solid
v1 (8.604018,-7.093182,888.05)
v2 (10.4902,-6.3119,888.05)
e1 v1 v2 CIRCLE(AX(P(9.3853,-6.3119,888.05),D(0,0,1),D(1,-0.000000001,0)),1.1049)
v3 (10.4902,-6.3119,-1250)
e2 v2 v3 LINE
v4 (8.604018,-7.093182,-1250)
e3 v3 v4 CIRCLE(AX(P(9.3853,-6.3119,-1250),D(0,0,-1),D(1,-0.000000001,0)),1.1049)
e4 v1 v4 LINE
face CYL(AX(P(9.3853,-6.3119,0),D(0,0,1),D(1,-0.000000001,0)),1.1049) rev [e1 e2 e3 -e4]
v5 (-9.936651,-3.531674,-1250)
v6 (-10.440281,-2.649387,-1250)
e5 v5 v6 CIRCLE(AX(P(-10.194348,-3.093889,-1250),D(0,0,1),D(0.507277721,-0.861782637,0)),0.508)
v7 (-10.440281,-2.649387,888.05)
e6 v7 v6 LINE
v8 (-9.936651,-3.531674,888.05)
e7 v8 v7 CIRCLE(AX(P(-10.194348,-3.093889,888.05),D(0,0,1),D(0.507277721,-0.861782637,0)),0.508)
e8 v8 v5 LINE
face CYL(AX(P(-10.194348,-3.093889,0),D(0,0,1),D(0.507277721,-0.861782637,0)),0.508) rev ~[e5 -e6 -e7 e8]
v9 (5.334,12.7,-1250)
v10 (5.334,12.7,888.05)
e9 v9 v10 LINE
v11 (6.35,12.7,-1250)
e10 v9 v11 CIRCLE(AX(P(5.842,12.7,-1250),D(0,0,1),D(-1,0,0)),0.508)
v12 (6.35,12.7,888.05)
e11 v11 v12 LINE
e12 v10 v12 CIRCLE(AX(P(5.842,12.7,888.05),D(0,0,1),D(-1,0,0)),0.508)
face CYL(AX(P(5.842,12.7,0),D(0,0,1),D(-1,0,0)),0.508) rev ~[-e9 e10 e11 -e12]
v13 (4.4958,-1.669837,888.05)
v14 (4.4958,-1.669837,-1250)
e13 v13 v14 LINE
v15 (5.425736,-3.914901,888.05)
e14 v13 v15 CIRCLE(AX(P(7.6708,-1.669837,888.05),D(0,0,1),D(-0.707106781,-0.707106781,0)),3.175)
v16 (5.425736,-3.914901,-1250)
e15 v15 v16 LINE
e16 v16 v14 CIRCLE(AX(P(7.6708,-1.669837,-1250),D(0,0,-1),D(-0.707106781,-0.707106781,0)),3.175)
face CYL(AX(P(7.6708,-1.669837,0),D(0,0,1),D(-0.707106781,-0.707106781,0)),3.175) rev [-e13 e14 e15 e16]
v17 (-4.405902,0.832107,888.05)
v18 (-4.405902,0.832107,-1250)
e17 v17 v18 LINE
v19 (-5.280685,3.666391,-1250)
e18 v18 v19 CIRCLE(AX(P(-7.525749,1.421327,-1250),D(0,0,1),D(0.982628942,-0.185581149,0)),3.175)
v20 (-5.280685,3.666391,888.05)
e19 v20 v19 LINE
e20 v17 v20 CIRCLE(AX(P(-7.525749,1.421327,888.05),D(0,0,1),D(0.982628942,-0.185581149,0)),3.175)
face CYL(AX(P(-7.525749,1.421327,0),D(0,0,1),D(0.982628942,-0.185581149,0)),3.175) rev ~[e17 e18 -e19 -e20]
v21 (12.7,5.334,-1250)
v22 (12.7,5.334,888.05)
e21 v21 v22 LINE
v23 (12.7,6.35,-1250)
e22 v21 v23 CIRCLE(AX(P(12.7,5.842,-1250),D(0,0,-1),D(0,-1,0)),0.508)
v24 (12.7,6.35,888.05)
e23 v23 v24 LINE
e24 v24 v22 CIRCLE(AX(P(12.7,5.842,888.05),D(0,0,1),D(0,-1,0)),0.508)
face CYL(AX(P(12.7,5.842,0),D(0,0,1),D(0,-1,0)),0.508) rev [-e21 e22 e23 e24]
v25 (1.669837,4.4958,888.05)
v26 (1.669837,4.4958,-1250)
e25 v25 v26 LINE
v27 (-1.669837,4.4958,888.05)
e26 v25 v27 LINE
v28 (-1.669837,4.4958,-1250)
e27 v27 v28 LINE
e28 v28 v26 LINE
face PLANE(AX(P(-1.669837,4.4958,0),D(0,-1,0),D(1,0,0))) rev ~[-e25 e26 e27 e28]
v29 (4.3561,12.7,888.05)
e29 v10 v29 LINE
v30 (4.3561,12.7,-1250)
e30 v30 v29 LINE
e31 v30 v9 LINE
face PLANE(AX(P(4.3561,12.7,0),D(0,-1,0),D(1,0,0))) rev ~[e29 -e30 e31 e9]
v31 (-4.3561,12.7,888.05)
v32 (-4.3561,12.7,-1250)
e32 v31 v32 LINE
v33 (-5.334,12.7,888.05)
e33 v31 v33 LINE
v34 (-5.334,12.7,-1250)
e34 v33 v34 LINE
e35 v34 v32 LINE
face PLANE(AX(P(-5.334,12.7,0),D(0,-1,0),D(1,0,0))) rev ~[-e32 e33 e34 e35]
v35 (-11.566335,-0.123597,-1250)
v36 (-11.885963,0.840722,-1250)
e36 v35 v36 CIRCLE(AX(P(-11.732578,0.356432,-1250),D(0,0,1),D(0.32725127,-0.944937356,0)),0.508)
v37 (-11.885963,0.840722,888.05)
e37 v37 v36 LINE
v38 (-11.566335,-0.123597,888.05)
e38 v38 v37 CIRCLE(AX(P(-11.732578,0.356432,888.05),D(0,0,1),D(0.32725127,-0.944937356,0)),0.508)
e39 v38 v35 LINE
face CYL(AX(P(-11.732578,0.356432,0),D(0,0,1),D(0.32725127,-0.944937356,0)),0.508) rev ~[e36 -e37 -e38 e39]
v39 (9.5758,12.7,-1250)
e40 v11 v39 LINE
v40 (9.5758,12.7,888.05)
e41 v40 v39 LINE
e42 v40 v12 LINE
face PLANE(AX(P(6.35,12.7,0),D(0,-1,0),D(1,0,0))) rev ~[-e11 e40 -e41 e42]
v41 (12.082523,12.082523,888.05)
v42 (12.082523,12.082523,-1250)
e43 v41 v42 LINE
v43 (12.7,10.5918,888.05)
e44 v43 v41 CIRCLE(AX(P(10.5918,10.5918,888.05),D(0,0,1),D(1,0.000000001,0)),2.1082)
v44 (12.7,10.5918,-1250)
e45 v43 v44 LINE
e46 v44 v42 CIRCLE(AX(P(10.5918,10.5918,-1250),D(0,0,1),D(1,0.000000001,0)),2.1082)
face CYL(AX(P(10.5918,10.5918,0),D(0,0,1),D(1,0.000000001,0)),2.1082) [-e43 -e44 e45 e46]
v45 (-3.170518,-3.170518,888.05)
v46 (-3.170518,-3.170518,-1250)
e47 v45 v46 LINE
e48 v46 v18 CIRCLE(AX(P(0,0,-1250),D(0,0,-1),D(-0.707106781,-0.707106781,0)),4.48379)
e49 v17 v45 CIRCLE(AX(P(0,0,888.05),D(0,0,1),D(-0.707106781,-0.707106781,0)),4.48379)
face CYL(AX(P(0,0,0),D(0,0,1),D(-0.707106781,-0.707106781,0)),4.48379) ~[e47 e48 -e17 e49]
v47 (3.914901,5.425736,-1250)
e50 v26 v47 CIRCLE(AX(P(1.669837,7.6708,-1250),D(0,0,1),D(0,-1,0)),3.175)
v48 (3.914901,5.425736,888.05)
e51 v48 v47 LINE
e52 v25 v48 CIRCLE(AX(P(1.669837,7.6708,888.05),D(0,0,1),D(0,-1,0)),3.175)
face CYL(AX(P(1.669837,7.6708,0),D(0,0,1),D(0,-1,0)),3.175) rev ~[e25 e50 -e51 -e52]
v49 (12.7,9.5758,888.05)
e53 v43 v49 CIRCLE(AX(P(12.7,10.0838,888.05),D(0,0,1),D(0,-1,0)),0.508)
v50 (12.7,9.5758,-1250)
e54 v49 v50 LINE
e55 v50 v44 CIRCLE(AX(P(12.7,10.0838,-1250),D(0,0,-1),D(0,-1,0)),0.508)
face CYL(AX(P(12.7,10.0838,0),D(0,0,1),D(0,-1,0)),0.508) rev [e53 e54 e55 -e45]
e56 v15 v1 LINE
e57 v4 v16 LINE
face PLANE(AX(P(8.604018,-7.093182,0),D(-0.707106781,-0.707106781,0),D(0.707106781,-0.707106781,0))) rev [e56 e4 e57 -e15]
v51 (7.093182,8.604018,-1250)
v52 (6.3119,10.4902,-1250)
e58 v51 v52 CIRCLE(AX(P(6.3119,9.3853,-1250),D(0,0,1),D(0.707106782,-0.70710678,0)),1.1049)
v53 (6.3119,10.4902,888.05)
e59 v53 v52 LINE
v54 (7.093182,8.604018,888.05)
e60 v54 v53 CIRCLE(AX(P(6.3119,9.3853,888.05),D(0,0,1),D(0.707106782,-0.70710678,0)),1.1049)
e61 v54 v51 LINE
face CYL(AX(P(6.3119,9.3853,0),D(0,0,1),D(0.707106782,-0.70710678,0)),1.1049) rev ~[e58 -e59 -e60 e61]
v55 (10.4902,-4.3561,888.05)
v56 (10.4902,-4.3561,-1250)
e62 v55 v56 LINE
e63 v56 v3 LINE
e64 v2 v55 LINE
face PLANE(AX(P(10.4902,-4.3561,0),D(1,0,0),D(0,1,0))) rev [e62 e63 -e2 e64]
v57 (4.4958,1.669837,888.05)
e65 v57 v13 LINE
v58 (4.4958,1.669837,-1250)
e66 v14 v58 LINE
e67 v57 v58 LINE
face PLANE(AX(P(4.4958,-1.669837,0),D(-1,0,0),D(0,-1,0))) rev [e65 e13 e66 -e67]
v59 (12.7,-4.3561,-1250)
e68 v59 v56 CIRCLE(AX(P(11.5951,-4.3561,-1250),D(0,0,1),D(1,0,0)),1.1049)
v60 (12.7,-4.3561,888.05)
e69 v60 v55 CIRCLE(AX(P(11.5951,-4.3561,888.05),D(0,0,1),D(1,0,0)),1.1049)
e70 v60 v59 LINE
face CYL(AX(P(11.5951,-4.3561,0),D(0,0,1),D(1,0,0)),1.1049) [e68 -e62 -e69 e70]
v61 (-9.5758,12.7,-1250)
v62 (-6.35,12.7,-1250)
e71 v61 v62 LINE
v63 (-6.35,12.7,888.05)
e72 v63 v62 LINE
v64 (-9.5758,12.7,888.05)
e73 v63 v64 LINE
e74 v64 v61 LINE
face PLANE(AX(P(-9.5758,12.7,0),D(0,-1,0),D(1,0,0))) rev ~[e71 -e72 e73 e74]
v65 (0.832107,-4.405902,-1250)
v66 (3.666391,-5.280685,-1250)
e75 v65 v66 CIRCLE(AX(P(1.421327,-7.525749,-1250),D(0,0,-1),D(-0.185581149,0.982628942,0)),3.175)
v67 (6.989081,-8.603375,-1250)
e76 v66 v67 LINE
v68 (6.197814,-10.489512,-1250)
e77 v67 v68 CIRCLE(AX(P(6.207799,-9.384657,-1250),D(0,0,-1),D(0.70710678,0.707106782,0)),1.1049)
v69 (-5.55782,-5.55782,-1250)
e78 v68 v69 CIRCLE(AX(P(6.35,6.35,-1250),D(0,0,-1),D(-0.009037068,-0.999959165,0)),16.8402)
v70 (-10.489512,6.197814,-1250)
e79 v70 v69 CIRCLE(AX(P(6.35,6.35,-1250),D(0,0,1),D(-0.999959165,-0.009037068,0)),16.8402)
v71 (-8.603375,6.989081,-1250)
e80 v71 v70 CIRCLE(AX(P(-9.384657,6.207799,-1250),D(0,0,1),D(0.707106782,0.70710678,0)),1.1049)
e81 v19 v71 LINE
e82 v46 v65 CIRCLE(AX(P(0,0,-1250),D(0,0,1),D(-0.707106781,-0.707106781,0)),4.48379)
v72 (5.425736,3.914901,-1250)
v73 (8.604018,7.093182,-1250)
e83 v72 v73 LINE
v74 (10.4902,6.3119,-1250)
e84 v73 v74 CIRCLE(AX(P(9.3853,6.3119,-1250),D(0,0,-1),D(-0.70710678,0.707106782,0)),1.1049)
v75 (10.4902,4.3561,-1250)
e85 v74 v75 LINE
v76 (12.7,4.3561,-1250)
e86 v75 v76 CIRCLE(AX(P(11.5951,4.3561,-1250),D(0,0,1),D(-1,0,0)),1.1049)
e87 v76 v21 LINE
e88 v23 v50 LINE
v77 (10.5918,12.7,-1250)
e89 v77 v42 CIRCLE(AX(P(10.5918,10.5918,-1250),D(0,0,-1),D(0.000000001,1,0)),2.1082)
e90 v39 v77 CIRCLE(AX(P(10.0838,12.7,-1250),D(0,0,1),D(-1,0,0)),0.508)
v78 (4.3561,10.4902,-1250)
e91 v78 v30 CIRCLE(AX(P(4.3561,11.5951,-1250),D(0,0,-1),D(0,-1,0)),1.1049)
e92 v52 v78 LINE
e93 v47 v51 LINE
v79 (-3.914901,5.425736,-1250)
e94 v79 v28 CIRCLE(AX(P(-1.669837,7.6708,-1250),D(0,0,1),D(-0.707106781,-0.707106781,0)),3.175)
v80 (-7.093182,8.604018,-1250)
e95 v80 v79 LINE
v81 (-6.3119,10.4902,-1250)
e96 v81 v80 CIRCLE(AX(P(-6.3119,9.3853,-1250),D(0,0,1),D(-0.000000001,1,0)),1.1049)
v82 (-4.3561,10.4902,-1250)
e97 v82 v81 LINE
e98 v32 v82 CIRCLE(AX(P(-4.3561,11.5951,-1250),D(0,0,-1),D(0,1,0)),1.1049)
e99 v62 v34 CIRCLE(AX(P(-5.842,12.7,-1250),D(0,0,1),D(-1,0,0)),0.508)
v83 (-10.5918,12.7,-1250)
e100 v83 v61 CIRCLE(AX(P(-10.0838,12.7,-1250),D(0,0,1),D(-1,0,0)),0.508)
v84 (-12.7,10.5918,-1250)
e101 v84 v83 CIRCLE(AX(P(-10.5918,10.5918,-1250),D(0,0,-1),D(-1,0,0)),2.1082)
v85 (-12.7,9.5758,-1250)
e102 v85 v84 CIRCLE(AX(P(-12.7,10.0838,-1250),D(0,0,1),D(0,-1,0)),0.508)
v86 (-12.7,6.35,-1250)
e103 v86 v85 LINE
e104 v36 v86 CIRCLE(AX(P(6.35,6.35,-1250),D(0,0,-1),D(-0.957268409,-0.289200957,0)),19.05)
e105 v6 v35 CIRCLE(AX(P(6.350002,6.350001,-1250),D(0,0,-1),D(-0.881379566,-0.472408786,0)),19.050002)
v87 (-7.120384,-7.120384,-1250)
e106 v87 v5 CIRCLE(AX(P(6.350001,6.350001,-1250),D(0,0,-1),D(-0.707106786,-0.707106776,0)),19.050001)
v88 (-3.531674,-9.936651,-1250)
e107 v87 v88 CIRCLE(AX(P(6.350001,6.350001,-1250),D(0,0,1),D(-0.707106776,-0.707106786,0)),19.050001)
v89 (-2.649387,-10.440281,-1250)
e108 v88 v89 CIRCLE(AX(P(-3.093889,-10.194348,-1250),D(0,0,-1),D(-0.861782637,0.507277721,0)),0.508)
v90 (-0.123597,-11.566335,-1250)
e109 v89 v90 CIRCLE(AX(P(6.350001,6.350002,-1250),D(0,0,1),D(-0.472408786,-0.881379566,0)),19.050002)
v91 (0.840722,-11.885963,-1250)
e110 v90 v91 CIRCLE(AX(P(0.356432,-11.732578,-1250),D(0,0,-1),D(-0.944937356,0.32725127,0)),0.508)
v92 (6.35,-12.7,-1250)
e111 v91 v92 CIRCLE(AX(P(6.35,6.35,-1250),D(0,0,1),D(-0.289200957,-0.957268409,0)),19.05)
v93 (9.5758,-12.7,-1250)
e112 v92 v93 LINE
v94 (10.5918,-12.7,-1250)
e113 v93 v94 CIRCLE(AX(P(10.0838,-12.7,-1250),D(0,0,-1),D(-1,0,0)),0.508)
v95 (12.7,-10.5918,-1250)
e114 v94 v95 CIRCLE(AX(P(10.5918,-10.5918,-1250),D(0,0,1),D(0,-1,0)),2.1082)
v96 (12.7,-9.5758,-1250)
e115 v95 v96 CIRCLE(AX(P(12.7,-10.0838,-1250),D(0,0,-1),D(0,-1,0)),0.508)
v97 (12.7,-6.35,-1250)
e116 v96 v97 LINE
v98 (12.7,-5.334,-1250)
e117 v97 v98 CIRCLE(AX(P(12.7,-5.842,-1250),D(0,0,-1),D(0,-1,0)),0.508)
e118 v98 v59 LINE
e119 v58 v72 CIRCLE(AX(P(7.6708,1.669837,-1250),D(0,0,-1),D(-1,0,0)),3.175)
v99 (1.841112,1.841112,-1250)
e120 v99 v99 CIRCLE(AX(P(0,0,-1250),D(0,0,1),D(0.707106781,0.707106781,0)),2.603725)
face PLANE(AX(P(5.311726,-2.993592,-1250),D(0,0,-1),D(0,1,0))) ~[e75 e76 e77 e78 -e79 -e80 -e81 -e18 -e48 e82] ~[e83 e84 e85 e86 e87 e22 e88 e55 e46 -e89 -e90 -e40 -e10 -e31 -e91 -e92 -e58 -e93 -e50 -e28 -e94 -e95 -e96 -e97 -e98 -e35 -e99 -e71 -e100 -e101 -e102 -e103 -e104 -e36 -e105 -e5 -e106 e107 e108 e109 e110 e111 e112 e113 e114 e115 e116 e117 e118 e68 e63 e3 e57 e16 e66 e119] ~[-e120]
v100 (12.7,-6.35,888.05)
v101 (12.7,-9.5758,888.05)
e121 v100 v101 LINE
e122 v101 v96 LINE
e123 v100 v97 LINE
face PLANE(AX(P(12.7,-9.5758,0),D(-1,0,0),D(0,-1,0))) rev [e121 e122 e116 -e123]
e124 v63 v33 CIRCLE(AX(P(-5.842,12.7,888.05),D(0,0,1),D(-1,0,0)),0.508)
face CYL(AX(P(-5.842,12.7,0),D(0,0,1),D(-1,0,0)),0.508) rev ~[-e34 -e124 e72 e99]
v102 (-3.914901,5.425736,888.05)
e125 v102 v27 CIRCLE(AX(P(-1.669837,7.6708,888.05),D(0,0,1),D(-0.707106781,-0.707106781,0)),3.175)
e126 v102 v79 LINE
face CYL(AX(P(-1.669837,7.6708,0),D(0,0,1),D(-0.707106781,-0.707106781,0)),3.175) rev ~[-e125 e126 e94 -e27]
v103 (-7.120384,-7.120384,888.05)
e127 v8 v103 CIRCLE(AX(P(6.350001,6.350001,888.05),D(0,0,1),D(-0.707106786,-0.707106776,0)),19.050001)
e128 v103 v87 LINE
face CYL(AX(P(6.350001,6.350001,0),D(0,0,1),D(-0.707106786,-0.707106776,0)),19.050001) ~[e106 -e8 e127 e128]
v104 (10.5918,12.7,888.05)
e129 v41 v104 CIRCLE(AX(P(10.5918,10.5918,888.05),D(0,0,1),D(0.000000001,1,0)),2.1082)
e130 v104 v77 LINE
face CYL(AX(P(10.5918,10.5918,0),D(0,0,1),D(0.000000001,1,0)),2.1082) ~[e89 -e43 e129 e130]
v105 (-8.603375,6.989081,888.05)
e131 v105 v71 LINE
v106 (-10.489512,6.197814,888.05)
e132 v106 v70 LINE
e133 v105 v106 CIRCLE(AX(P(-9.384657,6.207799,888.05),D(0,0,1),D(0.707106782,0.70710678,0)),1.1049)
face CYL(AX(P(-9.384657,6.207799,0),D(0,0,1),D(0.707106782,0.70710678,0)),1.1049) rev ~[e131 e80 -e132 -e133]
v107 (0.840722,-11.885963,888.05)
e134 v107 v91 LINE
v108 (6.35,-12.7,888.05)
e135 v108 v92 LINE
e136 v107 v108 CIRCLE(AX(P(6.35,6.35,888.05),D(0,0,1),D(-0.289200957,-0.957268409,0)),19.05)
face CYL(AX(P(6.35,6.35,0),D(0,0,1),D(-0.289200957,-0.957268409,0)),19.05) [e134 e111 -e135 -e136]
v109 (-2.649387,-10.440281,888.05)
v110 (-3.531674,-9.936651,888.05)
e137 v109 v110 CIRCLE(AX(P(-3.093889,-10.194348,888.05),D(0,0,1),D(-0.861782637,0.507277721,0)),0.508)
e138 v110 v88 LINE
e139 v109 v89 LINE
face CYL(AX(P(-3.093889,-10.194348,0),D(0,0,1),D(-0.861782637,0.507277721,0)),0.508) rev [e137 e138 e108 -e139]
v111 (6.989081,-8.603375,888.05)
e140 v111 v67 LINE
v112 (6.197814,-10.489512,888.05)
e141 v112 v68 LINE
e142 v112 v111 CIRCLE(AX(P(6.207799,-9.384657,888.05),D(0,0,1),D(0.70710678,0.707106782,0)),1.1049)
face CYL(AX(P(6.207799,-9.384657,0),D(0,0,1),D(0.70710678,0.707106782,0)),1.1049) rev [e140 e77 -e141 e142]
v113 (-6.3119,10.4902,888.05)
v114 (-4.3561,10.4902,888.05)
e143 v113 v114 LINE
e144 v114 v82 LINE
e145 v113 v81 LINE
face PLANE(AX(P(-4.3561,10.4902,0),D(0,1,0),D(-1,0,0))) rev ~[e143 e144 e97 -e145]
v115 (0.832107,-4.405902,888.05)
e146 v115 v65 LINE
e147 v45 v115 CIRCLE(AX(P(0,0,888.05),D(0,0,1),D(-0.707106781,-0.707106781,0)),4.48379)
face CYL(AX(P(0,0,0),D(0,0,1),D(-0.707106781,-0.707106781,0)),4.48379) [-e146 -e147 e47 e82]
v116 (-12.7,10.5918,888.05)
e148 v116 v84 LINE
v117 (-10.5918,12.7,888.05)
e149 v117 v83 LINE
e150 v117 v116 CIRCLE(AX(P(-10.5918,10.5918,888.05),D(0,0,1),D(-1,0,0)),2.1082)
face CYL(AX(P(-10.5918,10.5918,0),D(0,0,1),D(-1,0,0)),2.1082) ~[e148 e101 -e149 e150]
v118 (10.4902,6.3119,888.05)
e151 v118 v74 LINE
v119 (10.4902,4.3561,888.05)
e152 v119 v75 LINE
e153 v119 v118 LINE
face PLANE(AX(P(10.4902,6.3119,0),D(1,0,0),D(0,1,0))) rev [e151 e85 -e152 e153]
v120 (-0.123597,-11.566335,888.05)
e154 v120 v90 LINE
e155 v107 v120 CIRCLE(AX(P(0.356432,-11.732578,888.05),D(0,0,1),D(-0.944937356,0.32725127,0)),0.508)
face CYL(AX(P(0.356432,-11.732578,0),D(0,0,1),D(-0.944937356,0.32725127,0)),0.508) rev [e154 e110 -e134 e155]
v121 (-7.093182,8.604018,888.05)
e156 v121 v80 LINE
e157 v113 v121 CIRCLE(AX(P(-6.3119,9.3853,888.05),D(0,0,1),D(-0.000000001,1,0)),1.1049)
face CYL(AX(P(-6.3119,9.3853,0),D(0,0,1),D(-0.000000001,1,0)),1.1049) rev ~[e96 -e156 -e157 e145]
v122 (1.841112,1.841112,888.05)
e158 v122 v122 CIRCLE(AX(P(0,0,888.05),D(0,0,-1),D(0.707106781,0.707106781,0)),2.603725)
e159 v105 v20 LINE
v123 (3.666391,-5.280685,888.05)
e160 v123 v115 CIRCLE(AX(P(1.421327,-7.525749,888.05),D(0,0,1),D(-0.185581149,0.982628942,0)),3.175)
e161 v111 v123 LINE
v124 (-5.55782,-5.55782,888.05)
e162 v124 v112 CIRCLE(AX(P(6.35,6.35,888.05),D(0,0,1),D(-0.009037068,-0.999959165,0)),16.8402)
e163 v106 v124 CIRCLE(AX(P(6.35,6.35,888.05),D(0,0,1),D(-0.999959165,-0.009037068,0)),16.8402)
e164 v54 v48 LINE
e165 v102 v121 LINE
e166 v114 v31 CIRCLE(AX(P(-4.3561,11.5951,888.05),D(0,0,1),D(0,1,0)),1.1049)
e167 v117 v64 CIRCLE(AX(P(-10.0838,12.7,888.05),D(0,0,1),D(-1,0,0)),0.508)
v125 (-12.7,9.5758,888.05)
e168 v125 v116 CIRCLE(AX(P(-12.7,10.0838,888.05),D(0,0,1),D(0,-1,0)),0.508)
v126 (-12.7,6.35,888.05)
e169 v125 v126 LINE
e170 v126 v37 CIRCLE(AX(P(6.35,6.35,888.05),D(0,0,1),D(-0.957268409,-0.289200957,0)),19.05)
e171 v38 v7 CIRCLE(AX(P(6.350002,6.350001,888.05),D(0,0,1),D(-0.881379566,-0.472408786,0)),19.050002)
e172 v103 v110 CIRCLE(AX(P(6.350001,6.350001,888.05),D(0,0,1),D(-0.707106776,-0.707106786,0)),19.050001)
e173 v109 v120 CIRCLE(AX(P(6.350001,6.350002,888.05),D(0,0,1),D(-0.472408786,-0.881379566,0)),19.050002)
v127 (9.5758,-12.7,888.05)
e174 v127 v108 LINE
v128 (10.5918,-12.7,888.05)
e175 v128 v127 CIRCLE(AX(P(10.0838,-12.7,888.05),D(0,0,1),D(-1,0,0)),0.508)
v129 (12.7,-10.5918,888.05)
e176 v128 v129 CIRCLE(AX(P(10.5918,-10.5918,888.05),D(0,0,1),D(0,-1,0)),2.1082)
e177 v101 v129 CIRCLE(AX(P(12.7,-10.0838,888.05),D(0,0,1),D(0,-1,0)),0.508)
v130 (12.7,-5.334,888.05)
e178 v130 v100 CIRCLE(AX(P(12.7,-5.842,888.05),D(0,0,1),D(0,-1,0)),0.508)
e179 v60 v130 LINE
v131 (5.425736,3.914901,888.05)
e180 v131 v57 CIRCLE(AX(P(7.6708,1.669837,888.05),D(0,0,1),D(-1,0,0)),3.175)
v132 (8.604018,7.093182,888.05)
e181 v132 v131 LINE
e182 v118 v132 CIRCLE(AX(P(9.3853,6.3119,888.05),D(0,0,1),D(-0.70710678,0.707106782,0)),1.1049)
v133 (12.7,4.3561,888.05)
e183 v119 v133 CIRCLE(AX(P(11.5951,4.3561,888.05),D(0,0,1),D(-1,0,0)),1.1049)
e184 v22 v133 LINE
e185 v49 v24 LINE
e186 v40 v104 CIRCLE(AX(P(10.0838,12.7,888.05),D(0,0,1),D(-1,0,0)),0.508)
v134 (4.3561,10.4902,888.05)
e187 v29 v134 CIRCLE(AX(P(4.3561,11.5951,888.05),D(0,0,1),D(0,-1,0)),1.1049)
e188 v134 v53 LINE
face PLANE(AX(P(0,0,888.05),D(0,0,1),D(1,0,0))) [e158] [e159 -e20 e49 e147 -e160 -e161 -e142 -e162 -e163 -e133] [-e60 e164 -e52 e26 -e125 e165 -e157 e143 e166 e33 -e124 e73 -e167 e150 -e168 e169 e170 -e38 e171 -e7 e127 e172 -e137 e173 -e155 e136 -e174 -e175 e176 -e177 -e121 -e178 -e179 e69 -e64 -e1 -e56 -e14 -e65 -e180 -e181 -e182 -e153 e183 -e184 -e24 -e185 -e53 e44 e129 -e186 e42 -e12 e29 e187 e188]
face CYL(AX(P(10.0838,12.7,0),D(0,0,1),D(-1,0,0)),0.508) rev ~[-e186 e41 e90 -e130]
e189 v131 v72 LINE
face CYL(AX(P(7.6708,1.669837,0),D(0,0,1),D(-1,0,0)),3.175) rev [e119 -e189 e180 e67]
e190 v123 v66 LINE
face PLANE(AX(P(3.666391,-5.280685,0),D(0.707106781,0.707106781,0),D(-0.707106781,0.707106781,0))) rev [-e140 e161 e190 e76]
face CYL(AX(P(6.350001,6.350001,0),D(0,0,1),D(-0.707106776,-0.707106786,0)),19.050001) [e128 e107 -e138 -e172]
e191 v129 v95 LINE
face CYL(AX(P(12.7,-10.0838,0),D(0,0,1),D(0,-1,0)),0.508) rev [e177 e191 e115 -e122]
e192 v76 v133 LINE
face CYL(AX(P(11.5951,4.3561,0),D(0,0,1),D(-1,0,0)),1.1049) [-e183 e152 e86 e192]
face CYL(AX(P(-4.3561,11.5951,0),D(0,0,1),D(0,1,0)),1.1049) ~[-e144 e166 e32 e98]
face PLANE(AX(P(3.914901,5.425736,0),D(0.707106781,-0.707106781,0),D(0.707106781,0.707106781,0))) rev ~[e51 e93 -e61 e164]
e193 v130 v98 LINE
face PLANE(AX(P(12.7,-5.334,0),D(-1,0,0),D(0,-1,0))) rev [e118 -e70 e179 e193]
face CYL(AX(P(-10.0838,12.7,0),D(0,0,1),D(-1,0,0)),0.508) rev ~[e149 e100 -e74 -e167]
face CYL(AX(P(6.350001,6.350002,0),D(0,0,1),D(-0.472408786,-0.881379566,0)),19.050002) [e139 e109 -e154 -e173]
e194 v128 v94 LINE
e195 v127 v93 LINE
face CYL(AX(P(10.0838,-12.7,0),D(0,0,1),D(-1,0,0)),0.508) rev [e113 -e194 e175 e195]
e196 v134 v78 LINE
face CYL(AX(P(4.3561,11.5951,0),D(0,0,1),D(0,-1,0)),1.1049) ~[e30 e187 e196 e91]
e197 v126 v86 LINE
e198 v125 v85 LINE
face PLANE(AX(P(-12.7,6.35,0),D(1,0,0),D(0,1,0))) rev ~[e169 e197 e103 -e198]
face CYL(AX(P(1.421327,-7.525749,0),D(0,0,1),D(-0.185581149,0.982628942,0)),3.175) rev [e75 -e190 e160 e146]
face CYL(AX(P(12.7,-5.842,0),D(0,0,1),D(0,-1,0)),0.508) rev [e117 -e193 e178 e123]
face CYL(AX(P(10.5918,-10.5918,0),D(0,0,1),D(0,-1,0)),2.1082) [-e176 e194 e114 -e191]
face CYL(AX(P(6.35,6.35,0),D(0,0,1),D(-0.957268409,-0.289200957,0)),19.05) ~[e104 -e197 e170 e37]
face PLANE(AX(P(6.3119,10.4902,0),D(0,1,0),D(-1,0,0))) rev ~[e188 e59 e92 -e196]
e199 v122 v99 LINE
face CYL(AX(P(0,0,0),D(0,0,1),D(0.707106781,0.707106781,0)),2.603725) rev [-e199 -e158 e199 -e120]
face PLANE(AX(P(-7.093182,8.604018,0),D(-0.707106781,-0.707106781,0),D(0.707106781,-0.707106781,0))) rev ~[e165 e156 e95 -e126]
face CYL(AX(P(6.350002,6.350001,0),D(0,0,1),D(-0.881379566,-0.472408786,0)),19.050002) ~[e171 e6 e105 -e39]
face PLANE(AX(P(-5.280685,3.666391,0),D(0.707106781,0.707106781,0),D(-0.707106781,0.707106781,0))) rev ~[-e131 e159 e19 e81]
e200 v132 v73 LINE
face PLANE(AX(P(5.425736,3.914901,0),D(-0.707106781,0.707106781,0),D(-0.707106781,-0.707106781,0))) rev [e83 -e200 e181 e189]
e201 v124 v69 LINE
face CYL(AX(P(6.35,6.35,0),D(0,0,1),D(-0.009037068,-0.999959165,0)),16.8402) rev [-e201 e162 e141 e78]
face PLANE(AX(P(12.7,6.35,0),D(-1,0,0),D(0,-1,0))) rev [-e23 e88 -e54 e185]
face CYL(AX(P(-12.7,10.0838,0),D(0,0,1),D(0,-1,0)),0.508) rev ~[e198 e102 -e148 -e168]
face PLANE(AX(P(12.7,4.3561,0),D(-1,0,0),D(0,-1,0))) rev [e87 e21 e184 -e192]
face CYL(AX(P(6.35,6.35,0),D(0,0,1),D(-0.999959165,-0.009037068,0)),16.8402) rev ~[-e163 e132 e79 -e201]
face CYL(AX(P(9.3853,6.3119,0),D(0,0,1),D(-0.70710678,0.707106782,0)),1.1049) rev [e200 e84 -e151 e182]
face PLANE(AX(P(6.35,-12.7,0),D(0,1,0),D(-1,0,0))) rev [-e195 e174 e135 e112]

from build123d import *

# Parameters (mm, degrees)
BOSS_EXTRUDE1_DEPTH = 1250
SKETCH4_R           = 22.750036828
CUT_EXTRUDE1_DEPTH  = 361.95


with BuildPart() as part:
    # Sketch3 → Boss-Extrude1 (new, symmetric)
    with BuildSketch(Plane.XY):
        with BuildLine():
            Line((6.350000091, 12.7), (9.5758, 12.7))
            ThreePointArc((9.5758, 12.7), (10.0838, 12.192), (10.5918, 12.7))
            ThreePointArc((10.5918, 12.7), (11.398573212, 12.53952283), (12.082522516, 12.082522516))
            Line((12.082522516, 12.082522516), (1.841111635, 1.841111635))
            ThreePointArc((1.841111635, 1.841111635), (-1.841111635, 1.841111635), (-1.841111635, -1.841111635))
            Line((-1.841111635, -1.841111635), (-3.170518398, -3.170518398))
            ThreePointArc((-3.170518398, -3.170518398), (-4.284365606, -1.322340795), (-4.405901938, 0.832106923))
            ThreePointArc((-4.405901938, 0.832106923), (-4.49196258, 2.357684911), (-5.280684798, 3.666391103))
            Line((-5.280684798, 3.666391103), (-8.603375093, 6.989081397))
            ThreePointArc((-8.603375093, 6.989081397), (-9.812092525, 7.226672612), (-10.489512256, 6.197814058))
            ThreePointArc((-10.489512256, 6.197814058), (-9.179037358, -0.164701156), (-5.55781952, -5.55781952))
            Line((-5.55781952, -5.55781952), (-7.120384159, -7.120384159))
            ThreePointArc((-7.120384159, -7.120384159), (-8.636327096, -5.410633429), (-9.936651338, -3.531674301))
            ThreePointArc((-9.936651338, -3.531674301), (-9.753165795, -2.842051688), (-10.440280632, -2.649387487))
            ThreePointArc((-10.440280632, -2.649387487), (-11.049200851, -1.406952263), (-11.566334617, -0.123596589))
            ThreePointArc((-11.566334617, -0.123596589), (-11.250376175, 0.51626008), (-11.885963187, 0.840721857))
            ThreePointArc((-11.885963187, 0.840721857), (-12.495391993, 3.565453333), (-12.7, 6.350000091))
            Line((-12.7, 6.350000091), (-12.7, 9.5758))
            ThreePointArc((-12.7, 9.5758), (-12.192, 10.0838), (-12.7, 10.5918))
            ThreePointArc((-12.7, 10.5918), (-12.082522516, 12.082522516), (-10.5918, 12.7))
            ThreePointArc((-10.5918, 12.7), (-10.0838, 12.192), (-9.5758, 12.7))
            Line((-9.5758, 12.7), (-6.350000091, 12.7))
            ThreePointArc((-6.350000091, 12.7), (-5.842000091, 12.192), (-5.334000091, 12.7))
            Line((-5.334000091, 12.7), (-4.3561, 12.7))
            ThreePointArc((-4.3561, 12.7), (-3.2512, 11.5951), (-4.3561, 10.4902))
            Line((-4.3561, 10.4902), (-6.3119, 10.4902))
            ThreePointArc((-6.3119, 10.4902), (-7.332694495, 9.808126924), (-7.093182283, 8.604017717))
            Line((-7.093182283, 8.604017717), (-3.914900535, 5.42573597))
            ThreePointArc((-3.914900535, 5.42573597), (-2.884856402, 4.737482484), (-1.669836505, 4.4958))
            Line((-1.669836505, 4.4958), (1.669836505, 4.4958))
            ThreePointArc((1.669836505, 4.4958), (2.884856402, 4.737482484), (3.914900535, 5.42573597))
            Line((3.914900535, 5.42573597), (7.093182283, 8.604017717))
            ThreePointArc((7.093182283, 8.604017717), (7.332694495, 9.808126924), (6.3119, 10.4902))
            Line((6.3119, 10.4902), (4.3561, 10.4902))
            ThreePointArc((4.3561, 10.4902), (3.2512, 11.5951), (4.3561, 12.7))
            Line((4.3561, 12.7), (5.334000091, 12.7))
            ThreePointArc((5.334000091, 12.7), (5.842000091, 12.192), (6.350000091, 12.7))
        make_face()
    extrude(amount=BOSS_EXTRUDE1_DEPTH, both=True)

    # Mirror1: part across plane


with BuildPart() as part_1:
    add(part.part)
    add(part.part.mirror(Plane(origin=(1.841111635, 1.841111635, 1250), x_dir=(0, 0, 1), z_dir=(-0.707106781186552, 0.707106781186543, 0))))

    # Sketch4 → Cut-Extrude1 (cut)
    with BuildSketch(Plane.XY.offset(1250)):
        Circle(SKETCH4_R)
    extrude(amount=-CUT_EXTRUDE1_DEPTH, mode=Mode.SUBTRACT)


solid = part_1.part
